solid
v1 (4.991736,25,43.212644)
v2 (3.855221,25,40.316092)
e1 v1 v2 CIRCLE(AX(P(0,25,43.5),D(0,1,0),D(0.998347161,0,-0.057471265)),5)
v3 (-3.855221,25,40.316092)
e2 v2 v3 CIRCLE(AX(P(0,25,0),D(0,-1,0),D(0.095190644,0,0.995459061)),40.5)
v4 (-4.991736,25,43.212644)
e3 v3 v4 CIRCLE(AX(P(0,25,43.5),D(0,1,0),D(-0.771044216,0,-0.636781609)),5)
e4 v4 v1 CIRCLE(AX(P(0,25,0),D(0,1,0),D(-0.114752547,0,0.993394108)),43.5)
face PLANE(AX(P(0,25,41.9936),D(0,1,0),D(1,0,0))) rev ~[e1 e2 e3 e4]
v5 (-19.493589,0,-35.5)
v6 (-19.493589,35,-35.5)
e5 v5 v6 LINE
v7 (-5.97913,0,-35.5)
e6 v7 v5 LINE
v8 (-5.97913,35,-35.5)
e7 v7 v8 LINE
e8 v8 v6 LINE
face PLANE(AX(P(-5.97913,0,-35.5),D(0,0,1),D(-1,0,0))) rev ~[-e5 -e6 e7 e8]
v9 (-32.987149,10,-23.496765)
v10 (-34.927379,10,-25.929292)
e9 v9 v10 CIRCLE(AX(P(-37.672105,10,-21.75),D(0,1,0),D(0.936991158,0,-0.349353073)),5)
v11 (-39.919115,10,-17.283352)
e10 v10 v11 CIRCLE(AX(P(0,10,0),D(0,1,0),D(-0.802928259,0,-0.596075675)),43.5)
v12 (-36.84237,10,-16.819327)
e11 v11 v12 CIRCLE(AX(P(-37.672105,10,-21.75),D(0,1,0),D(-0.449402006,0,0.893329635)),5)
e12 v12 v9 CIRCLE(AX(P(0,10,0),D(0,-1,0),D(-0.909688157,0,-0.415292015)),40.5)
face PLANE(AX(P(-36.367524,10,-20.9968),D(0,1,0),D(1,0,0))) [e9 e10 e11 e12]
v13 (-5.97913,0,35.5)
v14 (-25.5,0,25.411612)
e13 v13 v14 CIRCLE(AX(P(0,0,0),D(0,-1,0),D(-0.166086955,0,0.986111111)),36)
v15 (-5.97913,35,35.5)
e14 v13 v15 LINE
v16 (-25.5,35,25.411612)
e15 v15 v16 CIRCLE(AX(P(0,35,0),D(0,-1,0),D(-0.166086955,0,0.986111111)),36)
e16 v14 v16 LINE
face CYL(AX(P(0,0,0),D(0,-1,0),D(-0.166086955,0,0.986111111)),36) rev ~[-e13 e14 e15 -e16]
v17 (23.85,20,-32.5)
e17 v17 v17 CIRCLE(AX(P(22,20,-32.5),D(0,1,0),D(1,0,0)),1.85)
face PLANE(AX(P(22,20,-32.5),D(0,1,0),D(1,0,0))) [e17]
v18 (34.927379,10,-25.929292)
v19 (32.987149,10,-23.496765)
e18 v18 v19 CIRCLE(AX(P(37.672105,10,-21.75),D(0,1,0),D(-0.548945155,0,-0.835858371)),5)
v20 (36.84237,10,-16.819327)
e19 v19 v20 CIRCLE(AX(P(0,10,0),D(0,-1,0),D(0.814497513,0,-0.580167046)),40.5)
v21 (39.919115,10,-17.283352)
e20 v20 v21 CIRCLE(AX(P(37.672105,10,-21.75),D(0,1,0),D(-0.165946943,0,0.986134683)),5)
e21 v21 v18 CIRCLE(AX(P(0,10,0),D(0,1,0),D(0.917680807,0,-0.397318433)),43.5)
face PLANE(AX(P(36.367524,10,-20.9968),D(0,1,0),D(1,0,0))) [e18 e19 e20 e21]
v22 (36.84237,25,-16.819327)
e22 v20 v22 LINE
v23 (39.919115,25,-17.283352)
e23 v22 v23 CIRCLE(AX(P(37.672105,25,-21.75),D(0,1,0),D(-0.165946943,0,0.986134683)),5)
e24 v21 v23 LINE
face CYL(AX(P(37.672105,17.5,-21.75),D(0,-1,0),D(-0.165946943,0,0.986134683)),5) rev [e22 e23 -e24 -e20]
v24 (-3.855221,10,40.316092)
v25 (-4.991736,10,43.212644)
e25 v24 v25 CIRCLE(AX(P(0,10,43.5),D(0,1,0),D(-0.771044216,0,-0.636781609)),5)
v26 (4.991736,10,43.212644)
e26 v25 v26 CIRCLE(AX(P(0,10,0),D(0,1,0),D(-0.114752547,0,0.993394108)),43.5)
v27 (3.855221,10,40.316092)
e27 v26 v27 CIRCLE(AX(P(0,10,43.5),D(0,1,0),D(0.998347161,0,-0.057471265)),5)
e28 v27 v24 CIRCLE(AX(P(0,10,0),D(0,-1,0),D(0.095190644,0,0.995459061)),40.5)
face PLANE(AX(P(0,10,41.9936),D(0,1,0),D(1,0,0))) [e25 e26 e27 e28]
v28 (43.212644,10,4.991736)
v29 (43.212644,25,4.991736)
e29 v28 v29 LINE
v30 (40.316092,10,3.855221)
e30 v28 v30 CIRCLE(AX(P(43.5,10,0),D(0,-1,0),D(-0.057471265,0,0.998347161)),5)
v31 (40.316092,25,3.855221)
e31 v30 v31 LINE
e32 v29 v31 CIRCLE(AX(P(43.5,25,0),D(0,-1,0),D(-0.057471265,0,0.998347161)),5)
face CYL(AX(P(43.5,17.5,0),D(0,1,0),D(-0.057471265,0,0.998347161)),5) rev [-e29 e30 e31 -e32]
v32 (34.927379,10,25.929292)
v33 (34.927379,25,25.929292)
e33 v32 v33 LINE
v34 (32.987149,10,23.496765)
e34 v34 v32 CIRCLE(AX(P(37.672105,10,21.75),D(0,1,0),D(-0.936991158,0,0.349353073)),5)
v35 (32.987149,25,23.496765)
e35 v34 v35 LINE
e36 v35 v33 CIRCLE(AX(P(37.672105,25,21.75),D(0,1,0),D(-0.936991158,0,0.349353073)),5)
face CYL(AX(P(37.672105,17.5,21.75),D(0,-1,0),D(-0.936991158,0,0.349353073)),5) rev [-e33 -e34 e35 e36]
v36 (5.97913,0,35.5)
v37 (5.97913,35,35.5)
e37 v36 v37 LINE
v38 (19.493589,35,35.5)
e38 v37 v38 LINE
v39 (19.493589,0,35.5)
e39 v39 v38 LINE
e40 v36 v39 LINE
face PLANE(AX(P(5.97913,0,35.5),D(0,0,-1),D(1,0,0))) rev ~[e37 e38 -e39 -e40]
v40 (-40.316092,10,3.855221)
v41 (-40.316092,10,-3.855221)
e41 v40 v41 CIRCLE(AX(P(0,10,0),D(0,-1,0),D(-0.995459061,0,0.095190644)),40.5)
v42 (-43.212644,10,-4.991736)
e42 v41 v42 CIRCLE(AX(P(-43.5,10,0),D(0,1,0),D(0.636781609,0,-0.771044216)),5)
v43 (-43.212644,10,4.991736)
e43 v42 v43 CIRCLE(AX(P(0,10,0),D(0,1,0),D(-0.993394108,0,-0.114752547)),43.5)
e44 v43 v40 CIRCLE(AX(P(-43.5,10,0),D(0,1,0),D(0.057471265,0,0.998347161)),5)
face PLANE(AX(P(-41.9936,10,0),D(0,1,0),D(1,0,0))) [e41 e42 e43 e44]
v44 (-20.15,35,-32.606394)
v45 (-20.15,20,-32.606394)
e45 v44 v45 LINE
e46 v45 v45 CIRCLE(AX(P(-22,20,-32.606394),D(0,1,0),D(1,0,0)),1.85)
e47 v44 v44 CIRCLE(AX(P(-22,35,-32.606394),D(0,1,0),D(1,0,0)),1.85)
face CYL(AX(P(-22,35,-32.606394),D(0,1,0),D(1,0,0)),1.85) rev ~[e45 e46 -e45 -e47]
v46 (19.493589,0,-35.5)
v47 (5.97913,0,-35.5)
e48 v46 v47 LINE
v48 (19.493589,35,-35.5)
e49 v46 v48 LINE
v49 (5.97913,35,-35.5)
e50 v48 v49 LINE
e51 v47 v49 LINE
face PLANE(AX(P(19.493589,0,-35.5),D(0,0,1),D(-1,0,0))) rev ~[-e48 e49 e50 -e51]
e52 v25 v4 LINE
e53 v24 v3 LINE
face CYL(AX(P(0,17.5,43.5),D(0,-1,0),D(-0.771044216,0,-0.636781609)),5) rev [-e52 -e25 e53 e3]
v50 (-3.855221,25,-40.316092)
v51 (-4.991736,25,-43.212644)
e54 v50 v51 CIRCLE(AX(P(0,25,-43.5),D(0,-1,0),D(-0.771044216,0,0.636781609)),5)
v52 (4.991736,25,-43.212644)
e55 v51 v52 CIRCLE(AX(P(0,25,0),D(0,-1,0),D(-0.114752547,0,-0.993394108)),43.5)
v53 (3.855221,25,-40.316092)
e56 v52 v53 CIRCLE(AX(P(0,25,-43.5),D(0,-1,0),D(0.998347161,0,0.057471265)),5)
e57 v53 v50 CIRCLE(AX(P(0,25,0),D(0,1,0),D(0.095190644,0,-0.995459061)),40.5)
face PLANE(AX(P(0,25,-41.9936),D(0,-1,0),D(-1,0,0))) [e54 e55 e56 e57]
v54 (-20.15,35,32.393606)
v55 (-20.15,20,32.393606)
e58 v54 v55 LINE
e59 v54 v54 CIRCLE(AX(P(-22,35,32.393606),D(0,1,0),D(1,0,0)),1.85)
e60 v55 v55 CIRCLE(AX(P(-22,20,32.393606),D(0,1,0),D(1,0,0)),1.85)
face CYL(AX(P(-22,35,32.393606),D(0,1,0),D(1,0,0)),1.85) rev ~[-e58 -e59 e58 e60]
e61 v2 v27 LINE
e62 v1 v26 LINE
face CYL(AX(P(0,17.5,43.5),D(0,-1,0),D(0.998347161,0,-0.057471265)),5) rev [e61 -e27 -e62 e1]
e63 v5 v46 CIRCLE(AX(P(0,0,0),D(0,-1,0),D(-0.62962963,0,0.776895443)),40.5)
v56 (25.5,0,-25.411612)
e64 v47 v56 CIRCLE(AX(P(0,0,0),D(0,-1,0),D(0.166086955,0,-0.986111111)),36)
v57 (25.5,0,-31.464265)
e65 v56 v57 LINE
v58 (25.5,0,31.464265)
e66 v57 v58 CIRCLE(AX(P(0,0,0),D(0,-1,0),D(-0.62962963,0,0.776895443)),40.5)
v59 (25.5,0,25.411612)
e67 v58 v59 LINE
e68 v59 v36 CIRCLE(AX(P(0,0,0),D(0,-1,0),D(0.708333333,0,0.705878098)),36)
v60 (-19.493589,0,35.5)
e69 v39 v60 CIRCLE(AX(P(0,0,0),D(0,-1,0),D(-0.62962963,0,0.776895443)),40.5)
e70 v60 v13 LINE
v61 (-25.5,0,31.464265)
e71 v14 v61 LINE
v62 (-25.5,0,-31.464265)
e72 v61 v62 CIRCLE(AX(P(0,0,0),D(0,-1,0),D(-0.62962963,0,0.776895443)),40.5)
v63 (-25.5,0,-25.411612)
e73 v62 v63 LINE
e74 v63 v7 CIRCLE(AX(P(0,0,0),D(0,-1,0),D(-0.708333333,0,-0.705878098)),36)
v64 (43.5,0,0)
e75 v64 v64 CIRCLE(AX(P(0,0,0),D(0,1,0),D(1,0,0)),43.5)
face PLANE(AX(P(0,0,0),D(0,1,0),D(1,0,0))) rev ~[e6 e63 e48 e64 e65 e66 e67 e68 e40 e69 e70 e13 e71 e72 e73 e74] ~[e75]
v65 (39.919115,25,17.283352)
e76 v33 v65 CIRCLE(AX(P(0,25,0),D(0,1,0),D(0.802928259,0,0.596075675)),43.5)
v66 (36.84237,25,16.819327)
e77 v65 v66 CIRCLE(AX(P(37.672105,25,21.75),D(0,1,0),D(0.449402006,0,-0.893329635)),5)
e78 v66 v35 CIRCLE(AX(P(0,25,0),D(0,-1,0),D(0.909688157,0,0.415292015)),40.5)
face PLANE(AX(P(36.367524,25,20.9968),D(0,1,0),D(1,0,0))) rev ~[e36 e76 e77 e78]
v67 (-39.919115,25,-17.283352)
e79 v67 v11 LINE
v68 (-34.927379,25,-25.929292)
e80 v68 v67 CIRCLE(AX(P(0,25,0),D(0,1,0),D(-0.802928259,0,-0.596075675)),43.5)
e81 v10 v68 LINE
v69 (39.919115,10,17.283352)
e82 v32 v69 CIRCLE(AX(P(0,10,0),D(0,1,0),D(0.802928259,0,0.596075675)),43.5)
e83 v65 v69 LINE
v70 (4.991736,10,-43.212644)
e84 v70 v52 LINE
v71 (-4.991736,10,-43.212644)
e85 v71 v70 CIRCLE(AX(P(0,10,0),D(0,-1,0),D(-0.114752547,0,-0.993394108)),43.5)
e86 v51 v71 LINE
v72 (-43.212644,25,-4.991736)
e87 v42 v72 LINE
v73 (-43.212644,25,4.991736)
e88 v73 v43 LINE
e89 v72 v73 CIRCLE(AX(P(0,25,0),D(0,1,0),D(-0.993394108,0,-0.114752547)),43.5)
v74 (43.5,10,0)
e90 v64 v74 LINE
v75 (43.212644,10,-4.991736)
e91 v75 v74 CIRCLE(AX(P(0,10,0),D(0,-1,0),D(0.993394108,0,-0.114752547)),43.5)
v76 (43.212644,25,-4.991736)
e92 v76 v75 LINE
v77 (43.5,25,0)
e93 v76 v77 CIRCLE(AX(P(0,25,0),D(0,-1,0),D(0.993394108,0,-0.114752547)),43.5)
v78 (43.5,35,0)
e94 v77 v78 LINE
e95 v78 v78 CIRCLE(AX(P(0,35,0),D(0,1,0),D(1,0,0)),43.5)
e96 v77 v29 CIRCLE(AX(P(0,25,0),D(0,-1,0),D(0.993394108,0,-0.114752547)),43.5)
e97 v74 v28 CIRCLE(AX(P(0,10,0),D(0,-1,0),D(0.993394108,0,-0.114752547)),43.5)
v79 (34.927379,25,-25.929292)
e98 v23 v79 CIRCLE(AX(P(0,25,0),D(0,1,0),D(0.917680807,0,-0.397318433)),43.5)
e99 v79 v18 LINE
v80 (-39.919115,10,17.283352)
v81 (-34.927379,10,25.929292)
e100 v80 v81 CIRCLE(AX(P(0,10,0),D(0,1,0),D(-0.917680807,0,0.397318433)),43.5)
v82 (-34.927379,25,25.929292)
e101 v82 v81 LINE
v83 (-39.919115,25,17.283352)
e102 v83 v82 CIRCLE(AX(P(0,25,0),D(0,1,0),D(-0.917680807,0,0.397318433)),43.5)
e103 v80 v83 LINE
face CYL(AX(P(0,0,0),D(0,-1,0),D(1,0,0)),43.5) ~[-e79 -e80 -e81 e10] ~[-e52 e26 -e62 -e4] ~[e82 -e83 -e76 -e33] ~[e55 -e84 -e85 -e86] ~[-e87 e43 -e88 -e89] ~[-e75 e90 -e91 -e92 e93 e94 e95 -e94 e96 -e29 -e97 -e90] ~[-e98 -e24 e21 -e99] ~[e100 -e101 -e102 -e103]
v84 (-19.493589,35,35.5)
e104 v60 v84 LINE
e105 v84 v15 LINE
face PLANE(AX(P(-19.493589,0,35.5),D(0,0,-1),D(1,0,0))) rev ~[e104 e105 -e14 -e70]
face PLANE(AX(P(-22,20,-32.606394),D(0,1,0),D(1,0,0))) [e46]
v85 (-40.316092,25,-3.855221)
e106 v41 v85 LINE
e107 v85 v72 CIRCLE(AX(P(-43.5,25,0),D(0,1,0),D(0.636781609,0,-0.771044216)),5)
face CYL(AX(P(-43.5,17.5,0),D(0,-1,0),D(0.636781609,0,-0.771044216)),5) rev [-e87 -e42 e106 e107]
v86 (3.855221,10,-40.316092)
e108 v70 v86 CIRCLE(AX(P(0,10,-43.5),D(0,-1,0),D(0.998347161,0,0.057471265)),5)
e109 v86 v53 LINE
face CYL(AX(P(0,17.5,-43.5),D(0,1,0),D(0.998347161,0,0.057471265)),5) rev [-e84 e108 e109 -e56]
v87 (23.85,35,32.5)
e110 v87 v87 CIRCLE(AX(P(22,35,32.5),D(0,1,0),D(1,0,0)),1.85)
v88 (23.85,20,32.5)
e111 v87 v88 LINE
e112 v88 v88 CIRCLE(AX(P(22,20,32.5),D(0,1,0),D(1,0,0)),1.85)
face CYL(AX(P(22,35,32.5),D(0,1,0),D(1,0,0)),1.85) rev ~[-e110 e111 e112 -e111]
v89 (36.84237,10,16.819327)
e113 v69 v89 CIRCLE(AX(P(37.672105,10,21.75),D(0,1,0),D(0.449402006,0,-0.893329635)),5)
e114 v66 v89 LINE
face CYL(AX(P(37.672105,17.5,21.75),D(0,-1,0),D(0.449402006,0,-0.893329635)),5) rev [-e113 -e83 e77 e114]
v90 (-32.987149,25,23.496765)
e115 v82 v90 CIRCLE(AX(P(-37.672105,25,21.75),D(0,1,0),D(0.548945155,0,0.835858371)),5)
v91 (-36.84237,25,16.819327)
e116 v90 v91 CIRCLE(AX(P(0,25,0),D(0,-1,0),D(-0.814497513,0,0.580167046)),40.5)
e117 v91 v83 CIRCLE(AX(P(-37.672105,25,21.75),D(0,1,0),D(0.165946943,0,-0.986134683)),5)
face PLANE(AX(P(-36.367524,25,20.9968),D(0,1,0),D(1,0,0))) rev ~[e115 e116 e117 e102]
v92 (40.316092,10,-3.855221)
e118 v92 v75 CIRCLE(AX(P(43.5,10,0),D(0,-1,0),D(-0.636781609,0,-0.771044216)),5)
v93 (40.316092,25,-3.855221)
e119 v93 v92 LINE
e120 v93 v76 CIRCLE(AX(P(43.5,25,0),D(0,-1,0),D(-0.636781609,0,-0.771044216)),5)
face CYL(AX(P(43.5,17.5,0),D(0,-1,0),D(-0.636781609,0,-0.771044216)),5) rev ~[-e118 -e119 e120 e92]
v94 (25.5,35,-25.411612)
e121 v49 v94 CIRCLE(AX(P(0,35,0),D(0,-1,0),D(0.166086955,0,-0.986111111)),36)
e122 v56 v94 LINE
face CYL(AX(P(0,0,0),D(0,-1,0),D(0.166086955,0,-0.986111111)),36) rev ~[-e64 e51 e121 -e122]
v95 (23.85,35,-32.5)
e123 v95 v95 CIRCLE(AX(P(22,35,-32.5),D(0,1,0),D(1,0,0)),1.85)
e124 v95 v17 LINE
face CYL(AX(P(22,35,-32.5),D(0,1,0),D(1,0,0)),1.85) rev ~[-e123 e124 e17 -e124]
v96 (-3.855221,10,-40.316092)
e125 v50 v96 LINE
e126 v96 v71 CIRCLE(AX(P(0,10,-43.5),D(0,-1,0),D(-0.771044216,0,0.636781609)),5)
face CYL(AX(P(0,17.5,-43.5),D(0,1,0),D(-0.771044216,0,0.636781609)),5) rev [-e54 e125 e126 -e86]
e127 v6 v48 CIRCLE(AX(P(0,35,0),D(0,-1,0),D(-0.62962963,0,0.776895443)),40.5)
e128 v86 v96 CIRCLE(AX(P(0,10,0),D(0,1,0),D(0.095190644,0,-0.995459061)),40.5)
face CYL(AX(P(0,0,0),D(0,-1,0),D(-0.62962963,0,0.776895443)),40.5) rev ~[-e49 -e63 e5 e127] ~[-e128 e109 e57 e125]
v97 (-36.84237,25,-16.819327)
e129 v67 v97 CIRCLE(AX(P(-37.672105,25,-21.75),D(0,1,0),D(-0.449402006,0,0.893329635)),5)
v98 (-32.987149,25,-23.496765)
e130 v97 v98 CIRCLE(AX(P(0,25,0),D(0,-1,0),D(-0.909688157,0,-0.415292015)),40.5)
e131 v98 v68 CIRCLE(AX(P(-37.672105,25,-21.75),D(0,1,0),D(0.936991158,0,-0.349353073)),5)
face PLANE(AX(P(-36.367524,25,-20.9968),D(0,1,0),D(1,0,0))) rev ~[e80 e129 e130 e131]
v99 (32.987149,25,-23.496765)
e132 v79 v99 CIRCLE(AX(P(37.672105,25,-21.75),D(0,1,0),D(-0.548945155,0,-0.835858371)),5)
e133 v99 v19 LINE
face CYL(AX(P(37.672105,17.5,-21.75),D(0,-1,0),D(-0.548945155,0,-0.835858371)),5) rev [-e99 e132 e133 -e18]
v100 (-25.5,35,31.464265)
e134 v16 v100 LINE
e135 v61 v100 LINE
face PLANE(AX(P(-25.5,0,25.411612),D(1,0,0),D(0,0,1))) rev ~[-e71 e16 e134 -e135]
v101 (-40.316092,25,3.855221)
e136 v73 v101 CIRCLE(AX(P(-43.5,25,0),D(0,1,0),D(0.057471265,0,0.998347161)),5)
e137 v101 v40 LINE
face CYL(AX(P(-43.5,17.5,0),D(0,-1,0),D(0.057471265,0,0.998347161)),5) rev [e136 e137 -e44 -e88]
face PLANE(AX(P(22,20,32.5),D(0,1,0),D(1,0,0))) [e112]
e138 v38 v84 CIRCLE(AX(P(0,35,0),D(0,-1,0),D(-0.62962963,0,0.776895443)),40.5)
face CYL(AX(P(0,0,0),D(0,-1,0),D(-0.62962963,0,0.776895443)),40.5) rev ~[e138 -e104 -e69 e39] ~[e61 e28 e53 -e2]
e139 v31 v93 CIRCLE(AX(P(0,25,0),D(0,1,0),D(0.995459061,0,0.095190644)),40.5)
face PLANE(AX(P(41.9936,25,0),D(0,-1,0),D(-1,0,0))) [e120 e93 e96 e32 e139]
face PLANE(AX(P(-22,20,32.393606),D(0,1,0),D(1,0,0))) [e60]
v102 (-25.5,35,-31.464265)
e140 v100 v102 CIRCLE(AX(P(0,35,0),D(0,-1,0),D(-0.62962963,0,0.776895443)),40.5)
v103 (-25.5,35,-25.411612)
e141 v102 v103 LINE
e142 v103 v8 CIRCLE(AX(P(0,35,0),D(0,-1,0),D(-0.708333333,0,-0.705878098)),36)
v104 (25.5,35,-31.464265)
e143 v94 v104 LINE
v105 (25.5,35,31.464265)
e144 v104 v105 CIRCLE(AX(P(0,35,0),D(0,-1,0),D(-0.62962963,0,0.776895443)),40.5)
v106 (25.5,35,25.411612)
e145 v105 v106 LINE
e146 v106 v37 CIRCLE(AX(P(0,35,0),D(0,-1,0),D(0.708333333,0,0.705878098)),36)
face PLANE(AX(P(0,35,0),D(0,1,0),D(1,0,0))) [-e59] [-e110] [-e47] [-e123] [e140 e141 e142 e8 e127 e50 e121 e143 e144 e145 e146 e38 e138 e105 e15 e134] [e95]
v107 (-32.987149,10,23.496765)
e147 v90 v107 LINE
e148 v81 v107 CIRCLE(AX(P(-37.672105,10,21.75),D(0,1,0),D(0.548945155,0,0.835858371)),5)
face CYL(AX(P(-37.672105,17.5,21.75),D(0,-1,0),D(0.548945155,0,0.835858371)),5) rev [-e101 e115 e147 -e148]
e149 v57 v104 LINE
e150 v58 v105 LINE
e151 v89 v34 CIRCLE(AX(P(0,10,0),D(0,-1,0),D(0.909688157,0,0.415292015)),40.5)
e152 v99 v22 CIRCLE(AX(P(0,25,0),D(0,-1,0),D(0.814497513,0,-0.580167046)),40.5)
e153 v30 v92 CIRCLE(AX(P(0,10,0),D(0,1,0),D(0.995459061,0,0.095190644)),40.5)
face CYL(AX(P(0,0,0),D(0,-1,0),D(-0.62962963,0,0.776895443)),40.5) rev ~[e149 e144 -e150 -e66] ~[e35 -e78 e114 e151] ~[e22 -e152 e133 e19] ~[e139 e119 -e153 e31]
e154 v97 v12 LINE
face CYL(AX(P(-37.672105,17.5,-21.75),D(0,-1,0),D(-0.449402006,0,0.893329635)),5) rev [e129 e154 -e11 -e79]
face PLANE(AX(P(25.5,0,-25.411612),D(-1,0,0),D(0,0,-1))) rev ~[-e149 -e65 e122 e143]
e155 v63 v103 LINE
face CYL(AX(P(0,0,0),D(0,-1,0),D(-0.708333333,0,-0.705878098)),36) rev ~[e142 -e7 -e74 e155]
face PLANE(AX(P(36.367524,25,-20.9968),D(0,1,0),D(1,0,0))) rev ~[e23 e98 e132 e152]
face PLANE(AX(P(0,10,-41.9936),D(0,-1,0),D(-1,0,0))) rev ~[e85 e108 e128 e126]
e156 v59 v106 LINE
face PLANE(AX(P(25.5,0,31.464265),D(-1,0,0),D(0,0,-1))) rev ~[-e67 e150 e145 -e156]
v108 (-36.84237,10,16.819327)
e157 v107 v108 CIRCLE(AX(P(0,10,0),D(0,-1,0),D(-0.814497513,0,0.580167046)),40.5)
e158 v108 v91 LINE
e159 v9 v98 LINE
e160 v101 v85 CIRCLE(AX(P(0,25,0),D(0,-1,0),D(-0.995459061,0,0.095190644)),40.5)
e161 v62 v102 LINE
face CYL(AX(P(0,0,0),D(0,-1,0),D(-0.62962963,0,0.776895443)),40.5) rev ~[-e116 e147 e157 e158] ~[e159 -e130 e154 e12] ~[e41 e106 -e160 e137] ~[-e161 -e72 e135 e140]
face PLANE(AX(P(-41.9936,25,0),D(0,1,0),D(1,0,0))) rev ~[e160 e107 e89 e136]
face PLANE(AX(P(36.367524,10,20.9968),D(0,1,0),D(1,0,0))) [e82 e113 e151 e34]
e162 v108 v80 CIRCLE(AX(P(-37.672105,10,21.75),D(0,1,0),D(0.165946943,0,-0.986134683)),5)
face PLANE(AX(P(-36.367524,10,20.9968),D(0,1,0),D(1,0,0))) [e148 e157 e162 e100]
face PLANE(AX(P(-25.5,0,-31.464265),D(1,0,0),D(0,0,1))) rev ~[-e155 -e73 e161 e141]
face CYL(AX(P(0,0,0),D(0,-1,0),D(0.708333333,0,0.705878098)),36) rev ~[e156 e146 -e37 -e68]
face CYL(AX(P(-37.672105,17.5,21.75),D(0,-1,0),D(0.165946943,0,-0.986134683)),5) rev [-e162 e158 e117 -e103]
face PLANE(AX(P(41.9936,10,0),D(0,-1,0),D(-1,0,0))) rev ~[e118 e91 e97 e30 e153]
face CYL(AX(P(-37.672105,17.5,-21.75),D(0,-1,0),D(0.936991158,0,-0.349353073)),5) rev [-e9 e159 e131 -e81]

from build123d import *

# Parameters (mm, degrees)
SKETCH1_R               = 43.5
SKETCH1_R_2             = 40.5
BOSS_EXTRUDE1_DEPTH     = 35
SKETCH2_R               = 1.85
CUT_EXTRUDE1_DEPTH      = 15
CUT_EXTRUDE3_DEPTH      = 7.5
CUT_EXTRUDE3_DEPTH_BACK = 7.5


with BuildPart() as part:
    # Sketch1 → Boss-Extrude1 (new body)
    with BuildSketch(Plane(origin=(0, 0, 0), x_dir=(1, 0, 0), z_dir=(0, 1, 0))):
        Circle(SKETCH1_R)
        Circle(SKETCH1_R_2, mode=Mode.SUBTRACT)
        with BuildLine():
            Line((-25.5, -25.411611519), (-25.5, -31.464265445))
            ThreePointArc((-25.5, -31.464265445), (-22.587110133, -33.616550327), (-19.49358869, -35.5))
            Line((-19.49358869, -35.5), (-5.979130372, -35.5))
            ThreePointArc((-5.979130372, -35.5), (-16.528091474, -31.981591459), (-25.5, -25.411611519))
        make_face()
        with BuildLine():
            Line((5.979130372, -35.5), (19.49358869, -35.5))
            ThreePointArc((19.49358869, -35.5), (22.587110133, -33.616550327), (25.5, -31.464265445))
            Line((25.5, -31.464265445), (25.5, -25.411611519))
            ThreePointArc((25.5, -25.411611519), (16.528091474, -31.981591459), (5.979130372, -35.5))
        make_face()
        with BuildLine():
            ThreePointArc((25.5, 31.464265445), (22.587110133, 33.616550327), (19.49358869, 35.5))
            Line((19.49358869, 35.5), (5.979130372, 35.5))
            ThreePointArc((5.979130372, 35.5), (16.528091474, 31.981591459), (25.5, 25.411611519))
            Line((25.5, 25.411611519), (25.5, 31.464265445))
        make_face()
        with BuildLine():
            ThreePointArc((-19.49358869, 35.5), (-22.587110133, 33.616550327), (-25.5, 31.464265445))
            Line((-25.5, 31.464265445), (-25.5, 25.411611519))
            ThreePointArc((-25.5, 25.411611519), (-16.528091474, 31.981591459), (-5.979130372, 35.5))
            Line((-5.979130372, 35.5), (-19.49358869, 35.5))
        make_face()
    extrude(amount=BOSS_EXTRUDE1_DEPTH)

    # Sketch2 → Cut-Extrude1 (cut)
    with BuildSketch(Plane(origin=(0, 35, 0), x_dir=(1, 0, 0), z_dir=(0, 1, 0))):
        with Locations((-22, 32.606393643)):
            Circle(SKETCH2_R)
        with Locations((22, 32.5)):
            Circle(SKETCH2_R)
        with Locations((22, -32.5)):
            Circle(SKETCH2_R)
        with Locations((-22, -32.393606357)):
            Circle(SKETCH2_R)
    extrude(amount=-CUT_EXTRUDE1_DEPTH, mode=Mode.SUBTRACT)

    # Sketch6 → Cut-Extrude3 (cut, two sides)
    with BuildSketch(Plane(origin=(0, 17.5, 0), x_dir=(1, 0, 0), z_dir=(0, 1, 0))) as cut_extrude3_sk:
        with BuildLine():
            ThreePointArc((-40.316091954, 3.855221077), (-41.673709906, 4.654531608), (-43.212643678, 4.991735805))
            ThreePointArc((-43.212643678, 4.991735805), (-43.5, 0), (-43.212643678, -4.991735805))
            ThreePointArc((-43.212643678, -4.991735805), (-41.673709906, -4.654531608), (-40.316091954, -3.855221077))
            ThreePointArc((-40.316091954, -3.855221077), (-40.5, 0), (-40.316091954, 3.855221077))
        make_face()
        with BuildLine():
            ThreePointArc((-39.919115092, -17.283351823), (-37.672105065, -21.75), (-34.927379288, -25.929291855))
            ThreePointArc((-34.927379288, -25.929291855), (-33.763225644, -24.867797568), (-32.987149275, -23.496765367))
            ThreePointArc((-32.987149275, -23.496765367), (-35.074028853, -20.25), (-36.842370352, -16.819326587))
            ThreePointArc((-36.842370352, -16.819326587), (-38.417757252, -16.805912337), (-39.919115092, -17.283351823))
        make_face()
        with BuildLine():
            ThreePointArc((4.991735805, -43.212643678), (4.654531608, -41.673709906), (3.855221077, -40.316091954))
            ThreePointArc((3.855221077, -40.316091954), (0, -40.5), (-3.855221077, -40.316091954))
            ThreePointArc((-3.855221077, -40.316091954), (-4.654531608, -41.673709906), (-4.991735805, -43.212643678))
            ThreePointArc((-4.991735805, -43.212643678), (0, -43.5), (4.991735805, -43.212643678))
        make_face()
        with BuildLine():
            ThreePointArc((34.927379288, -25.929291855), (37.672105065, -21.75), (39.919115092, -17.283351823))
            ThreePointArc((39.919115092, -17.283351823), (38.417757252, -16.805912337), (36.842370352, -16.819326587))
            ThreePointArc((36.842370352, -16.819326587), (35.074028853, -20.25), (32.987149275, -23.496765367))
            ThreePointArc((32.987149275, -23.496765367), (33.763225644, -24.867797568), (34.927379288, -25.929291855))
        make_face()
        with BuildLine():
            ThreePointArc((40.316091954, -3.855221077), (40.5, 0), (40.316091954, 3.855221077))
            ThreePointArc((40.316091954, 3.855221077), (41.673709906, 4.654531608), (43.212643678, 4.991735805))
            ThreePointArc((43.212643678, 4.991735805), (43.5, 0), (43.212643678, -4.991735805))
            ThreePointArc((43.212643678, -4.991735805), (41.673709906, -4.654531608), (40.316091954, -3.855221077))
        make_face()
        with BuildLine():
            ThreePointArc((39.919115092, 17.283351823), (37.672105065, 21.75), (34.927379288, 25.929291855))
            ThreePointArc((34.927379288, 25.929291855), (33.763225644, 24.867797568), (32.987149275, 23.496765367))
            ThreePointArc((32.987149275, 23.496765367), (35.074028853, 20.25), (36.842370352, 16.819326587))
            ThreePointArc((36.842370352, 16.819326587), (38.417757252, 16.805912337), (39.919115092, 17.283351823))
        make_face()
        with BuildLine():
            ThreePointArc((3.855221077, 40.316091954), (0, 40.5), (-3.855221077, 40.316091954))
            ThreePointArc((-3.855221077, 40.316091954), (-4.654531608, 41.673709906), (-4.991735805, 43.212643678))
            ThreePointArc((-4.991735805, 43.212643678), (0, 43.5), (4.991735805, 43.212643678))
            ThreePointArc((4.991735805, 43.212643678), (4.654531608, 41.673709906), (3.855221077, 40.316091954))
        make_face()
        with BuildLine():
            ThreePointArc((-34.927379288, 25.929291855), (-37.672105065, 21.75), (-39.919115092, 17.283351823))
            ThreePointArc((-39.919115092, 17.283351823), (-38.417757252, 16.805912337), (-36.842370352, 16.819326587))
            ThreePointArc((-36.842370352, 16.819326587), (-35.074028853, 20.25), (-32.987149275, 23.496765367))
            ThreePointArc((-32.987149275, 23.496765367), (-33.763225644, 24.867797568), (-34.927379288, 25.929291855))
        make_face()
    extrude(amount=CUT_EXTRUDE3_DEPTH, mode=Mode.SUBTRACT)
    extrude(cut_extrude3_sk.sketch, amount=-CUT_EXTRUDE3_DEPTH_BACK, mode=Mode.SUBTRACT)


solid = part.part
